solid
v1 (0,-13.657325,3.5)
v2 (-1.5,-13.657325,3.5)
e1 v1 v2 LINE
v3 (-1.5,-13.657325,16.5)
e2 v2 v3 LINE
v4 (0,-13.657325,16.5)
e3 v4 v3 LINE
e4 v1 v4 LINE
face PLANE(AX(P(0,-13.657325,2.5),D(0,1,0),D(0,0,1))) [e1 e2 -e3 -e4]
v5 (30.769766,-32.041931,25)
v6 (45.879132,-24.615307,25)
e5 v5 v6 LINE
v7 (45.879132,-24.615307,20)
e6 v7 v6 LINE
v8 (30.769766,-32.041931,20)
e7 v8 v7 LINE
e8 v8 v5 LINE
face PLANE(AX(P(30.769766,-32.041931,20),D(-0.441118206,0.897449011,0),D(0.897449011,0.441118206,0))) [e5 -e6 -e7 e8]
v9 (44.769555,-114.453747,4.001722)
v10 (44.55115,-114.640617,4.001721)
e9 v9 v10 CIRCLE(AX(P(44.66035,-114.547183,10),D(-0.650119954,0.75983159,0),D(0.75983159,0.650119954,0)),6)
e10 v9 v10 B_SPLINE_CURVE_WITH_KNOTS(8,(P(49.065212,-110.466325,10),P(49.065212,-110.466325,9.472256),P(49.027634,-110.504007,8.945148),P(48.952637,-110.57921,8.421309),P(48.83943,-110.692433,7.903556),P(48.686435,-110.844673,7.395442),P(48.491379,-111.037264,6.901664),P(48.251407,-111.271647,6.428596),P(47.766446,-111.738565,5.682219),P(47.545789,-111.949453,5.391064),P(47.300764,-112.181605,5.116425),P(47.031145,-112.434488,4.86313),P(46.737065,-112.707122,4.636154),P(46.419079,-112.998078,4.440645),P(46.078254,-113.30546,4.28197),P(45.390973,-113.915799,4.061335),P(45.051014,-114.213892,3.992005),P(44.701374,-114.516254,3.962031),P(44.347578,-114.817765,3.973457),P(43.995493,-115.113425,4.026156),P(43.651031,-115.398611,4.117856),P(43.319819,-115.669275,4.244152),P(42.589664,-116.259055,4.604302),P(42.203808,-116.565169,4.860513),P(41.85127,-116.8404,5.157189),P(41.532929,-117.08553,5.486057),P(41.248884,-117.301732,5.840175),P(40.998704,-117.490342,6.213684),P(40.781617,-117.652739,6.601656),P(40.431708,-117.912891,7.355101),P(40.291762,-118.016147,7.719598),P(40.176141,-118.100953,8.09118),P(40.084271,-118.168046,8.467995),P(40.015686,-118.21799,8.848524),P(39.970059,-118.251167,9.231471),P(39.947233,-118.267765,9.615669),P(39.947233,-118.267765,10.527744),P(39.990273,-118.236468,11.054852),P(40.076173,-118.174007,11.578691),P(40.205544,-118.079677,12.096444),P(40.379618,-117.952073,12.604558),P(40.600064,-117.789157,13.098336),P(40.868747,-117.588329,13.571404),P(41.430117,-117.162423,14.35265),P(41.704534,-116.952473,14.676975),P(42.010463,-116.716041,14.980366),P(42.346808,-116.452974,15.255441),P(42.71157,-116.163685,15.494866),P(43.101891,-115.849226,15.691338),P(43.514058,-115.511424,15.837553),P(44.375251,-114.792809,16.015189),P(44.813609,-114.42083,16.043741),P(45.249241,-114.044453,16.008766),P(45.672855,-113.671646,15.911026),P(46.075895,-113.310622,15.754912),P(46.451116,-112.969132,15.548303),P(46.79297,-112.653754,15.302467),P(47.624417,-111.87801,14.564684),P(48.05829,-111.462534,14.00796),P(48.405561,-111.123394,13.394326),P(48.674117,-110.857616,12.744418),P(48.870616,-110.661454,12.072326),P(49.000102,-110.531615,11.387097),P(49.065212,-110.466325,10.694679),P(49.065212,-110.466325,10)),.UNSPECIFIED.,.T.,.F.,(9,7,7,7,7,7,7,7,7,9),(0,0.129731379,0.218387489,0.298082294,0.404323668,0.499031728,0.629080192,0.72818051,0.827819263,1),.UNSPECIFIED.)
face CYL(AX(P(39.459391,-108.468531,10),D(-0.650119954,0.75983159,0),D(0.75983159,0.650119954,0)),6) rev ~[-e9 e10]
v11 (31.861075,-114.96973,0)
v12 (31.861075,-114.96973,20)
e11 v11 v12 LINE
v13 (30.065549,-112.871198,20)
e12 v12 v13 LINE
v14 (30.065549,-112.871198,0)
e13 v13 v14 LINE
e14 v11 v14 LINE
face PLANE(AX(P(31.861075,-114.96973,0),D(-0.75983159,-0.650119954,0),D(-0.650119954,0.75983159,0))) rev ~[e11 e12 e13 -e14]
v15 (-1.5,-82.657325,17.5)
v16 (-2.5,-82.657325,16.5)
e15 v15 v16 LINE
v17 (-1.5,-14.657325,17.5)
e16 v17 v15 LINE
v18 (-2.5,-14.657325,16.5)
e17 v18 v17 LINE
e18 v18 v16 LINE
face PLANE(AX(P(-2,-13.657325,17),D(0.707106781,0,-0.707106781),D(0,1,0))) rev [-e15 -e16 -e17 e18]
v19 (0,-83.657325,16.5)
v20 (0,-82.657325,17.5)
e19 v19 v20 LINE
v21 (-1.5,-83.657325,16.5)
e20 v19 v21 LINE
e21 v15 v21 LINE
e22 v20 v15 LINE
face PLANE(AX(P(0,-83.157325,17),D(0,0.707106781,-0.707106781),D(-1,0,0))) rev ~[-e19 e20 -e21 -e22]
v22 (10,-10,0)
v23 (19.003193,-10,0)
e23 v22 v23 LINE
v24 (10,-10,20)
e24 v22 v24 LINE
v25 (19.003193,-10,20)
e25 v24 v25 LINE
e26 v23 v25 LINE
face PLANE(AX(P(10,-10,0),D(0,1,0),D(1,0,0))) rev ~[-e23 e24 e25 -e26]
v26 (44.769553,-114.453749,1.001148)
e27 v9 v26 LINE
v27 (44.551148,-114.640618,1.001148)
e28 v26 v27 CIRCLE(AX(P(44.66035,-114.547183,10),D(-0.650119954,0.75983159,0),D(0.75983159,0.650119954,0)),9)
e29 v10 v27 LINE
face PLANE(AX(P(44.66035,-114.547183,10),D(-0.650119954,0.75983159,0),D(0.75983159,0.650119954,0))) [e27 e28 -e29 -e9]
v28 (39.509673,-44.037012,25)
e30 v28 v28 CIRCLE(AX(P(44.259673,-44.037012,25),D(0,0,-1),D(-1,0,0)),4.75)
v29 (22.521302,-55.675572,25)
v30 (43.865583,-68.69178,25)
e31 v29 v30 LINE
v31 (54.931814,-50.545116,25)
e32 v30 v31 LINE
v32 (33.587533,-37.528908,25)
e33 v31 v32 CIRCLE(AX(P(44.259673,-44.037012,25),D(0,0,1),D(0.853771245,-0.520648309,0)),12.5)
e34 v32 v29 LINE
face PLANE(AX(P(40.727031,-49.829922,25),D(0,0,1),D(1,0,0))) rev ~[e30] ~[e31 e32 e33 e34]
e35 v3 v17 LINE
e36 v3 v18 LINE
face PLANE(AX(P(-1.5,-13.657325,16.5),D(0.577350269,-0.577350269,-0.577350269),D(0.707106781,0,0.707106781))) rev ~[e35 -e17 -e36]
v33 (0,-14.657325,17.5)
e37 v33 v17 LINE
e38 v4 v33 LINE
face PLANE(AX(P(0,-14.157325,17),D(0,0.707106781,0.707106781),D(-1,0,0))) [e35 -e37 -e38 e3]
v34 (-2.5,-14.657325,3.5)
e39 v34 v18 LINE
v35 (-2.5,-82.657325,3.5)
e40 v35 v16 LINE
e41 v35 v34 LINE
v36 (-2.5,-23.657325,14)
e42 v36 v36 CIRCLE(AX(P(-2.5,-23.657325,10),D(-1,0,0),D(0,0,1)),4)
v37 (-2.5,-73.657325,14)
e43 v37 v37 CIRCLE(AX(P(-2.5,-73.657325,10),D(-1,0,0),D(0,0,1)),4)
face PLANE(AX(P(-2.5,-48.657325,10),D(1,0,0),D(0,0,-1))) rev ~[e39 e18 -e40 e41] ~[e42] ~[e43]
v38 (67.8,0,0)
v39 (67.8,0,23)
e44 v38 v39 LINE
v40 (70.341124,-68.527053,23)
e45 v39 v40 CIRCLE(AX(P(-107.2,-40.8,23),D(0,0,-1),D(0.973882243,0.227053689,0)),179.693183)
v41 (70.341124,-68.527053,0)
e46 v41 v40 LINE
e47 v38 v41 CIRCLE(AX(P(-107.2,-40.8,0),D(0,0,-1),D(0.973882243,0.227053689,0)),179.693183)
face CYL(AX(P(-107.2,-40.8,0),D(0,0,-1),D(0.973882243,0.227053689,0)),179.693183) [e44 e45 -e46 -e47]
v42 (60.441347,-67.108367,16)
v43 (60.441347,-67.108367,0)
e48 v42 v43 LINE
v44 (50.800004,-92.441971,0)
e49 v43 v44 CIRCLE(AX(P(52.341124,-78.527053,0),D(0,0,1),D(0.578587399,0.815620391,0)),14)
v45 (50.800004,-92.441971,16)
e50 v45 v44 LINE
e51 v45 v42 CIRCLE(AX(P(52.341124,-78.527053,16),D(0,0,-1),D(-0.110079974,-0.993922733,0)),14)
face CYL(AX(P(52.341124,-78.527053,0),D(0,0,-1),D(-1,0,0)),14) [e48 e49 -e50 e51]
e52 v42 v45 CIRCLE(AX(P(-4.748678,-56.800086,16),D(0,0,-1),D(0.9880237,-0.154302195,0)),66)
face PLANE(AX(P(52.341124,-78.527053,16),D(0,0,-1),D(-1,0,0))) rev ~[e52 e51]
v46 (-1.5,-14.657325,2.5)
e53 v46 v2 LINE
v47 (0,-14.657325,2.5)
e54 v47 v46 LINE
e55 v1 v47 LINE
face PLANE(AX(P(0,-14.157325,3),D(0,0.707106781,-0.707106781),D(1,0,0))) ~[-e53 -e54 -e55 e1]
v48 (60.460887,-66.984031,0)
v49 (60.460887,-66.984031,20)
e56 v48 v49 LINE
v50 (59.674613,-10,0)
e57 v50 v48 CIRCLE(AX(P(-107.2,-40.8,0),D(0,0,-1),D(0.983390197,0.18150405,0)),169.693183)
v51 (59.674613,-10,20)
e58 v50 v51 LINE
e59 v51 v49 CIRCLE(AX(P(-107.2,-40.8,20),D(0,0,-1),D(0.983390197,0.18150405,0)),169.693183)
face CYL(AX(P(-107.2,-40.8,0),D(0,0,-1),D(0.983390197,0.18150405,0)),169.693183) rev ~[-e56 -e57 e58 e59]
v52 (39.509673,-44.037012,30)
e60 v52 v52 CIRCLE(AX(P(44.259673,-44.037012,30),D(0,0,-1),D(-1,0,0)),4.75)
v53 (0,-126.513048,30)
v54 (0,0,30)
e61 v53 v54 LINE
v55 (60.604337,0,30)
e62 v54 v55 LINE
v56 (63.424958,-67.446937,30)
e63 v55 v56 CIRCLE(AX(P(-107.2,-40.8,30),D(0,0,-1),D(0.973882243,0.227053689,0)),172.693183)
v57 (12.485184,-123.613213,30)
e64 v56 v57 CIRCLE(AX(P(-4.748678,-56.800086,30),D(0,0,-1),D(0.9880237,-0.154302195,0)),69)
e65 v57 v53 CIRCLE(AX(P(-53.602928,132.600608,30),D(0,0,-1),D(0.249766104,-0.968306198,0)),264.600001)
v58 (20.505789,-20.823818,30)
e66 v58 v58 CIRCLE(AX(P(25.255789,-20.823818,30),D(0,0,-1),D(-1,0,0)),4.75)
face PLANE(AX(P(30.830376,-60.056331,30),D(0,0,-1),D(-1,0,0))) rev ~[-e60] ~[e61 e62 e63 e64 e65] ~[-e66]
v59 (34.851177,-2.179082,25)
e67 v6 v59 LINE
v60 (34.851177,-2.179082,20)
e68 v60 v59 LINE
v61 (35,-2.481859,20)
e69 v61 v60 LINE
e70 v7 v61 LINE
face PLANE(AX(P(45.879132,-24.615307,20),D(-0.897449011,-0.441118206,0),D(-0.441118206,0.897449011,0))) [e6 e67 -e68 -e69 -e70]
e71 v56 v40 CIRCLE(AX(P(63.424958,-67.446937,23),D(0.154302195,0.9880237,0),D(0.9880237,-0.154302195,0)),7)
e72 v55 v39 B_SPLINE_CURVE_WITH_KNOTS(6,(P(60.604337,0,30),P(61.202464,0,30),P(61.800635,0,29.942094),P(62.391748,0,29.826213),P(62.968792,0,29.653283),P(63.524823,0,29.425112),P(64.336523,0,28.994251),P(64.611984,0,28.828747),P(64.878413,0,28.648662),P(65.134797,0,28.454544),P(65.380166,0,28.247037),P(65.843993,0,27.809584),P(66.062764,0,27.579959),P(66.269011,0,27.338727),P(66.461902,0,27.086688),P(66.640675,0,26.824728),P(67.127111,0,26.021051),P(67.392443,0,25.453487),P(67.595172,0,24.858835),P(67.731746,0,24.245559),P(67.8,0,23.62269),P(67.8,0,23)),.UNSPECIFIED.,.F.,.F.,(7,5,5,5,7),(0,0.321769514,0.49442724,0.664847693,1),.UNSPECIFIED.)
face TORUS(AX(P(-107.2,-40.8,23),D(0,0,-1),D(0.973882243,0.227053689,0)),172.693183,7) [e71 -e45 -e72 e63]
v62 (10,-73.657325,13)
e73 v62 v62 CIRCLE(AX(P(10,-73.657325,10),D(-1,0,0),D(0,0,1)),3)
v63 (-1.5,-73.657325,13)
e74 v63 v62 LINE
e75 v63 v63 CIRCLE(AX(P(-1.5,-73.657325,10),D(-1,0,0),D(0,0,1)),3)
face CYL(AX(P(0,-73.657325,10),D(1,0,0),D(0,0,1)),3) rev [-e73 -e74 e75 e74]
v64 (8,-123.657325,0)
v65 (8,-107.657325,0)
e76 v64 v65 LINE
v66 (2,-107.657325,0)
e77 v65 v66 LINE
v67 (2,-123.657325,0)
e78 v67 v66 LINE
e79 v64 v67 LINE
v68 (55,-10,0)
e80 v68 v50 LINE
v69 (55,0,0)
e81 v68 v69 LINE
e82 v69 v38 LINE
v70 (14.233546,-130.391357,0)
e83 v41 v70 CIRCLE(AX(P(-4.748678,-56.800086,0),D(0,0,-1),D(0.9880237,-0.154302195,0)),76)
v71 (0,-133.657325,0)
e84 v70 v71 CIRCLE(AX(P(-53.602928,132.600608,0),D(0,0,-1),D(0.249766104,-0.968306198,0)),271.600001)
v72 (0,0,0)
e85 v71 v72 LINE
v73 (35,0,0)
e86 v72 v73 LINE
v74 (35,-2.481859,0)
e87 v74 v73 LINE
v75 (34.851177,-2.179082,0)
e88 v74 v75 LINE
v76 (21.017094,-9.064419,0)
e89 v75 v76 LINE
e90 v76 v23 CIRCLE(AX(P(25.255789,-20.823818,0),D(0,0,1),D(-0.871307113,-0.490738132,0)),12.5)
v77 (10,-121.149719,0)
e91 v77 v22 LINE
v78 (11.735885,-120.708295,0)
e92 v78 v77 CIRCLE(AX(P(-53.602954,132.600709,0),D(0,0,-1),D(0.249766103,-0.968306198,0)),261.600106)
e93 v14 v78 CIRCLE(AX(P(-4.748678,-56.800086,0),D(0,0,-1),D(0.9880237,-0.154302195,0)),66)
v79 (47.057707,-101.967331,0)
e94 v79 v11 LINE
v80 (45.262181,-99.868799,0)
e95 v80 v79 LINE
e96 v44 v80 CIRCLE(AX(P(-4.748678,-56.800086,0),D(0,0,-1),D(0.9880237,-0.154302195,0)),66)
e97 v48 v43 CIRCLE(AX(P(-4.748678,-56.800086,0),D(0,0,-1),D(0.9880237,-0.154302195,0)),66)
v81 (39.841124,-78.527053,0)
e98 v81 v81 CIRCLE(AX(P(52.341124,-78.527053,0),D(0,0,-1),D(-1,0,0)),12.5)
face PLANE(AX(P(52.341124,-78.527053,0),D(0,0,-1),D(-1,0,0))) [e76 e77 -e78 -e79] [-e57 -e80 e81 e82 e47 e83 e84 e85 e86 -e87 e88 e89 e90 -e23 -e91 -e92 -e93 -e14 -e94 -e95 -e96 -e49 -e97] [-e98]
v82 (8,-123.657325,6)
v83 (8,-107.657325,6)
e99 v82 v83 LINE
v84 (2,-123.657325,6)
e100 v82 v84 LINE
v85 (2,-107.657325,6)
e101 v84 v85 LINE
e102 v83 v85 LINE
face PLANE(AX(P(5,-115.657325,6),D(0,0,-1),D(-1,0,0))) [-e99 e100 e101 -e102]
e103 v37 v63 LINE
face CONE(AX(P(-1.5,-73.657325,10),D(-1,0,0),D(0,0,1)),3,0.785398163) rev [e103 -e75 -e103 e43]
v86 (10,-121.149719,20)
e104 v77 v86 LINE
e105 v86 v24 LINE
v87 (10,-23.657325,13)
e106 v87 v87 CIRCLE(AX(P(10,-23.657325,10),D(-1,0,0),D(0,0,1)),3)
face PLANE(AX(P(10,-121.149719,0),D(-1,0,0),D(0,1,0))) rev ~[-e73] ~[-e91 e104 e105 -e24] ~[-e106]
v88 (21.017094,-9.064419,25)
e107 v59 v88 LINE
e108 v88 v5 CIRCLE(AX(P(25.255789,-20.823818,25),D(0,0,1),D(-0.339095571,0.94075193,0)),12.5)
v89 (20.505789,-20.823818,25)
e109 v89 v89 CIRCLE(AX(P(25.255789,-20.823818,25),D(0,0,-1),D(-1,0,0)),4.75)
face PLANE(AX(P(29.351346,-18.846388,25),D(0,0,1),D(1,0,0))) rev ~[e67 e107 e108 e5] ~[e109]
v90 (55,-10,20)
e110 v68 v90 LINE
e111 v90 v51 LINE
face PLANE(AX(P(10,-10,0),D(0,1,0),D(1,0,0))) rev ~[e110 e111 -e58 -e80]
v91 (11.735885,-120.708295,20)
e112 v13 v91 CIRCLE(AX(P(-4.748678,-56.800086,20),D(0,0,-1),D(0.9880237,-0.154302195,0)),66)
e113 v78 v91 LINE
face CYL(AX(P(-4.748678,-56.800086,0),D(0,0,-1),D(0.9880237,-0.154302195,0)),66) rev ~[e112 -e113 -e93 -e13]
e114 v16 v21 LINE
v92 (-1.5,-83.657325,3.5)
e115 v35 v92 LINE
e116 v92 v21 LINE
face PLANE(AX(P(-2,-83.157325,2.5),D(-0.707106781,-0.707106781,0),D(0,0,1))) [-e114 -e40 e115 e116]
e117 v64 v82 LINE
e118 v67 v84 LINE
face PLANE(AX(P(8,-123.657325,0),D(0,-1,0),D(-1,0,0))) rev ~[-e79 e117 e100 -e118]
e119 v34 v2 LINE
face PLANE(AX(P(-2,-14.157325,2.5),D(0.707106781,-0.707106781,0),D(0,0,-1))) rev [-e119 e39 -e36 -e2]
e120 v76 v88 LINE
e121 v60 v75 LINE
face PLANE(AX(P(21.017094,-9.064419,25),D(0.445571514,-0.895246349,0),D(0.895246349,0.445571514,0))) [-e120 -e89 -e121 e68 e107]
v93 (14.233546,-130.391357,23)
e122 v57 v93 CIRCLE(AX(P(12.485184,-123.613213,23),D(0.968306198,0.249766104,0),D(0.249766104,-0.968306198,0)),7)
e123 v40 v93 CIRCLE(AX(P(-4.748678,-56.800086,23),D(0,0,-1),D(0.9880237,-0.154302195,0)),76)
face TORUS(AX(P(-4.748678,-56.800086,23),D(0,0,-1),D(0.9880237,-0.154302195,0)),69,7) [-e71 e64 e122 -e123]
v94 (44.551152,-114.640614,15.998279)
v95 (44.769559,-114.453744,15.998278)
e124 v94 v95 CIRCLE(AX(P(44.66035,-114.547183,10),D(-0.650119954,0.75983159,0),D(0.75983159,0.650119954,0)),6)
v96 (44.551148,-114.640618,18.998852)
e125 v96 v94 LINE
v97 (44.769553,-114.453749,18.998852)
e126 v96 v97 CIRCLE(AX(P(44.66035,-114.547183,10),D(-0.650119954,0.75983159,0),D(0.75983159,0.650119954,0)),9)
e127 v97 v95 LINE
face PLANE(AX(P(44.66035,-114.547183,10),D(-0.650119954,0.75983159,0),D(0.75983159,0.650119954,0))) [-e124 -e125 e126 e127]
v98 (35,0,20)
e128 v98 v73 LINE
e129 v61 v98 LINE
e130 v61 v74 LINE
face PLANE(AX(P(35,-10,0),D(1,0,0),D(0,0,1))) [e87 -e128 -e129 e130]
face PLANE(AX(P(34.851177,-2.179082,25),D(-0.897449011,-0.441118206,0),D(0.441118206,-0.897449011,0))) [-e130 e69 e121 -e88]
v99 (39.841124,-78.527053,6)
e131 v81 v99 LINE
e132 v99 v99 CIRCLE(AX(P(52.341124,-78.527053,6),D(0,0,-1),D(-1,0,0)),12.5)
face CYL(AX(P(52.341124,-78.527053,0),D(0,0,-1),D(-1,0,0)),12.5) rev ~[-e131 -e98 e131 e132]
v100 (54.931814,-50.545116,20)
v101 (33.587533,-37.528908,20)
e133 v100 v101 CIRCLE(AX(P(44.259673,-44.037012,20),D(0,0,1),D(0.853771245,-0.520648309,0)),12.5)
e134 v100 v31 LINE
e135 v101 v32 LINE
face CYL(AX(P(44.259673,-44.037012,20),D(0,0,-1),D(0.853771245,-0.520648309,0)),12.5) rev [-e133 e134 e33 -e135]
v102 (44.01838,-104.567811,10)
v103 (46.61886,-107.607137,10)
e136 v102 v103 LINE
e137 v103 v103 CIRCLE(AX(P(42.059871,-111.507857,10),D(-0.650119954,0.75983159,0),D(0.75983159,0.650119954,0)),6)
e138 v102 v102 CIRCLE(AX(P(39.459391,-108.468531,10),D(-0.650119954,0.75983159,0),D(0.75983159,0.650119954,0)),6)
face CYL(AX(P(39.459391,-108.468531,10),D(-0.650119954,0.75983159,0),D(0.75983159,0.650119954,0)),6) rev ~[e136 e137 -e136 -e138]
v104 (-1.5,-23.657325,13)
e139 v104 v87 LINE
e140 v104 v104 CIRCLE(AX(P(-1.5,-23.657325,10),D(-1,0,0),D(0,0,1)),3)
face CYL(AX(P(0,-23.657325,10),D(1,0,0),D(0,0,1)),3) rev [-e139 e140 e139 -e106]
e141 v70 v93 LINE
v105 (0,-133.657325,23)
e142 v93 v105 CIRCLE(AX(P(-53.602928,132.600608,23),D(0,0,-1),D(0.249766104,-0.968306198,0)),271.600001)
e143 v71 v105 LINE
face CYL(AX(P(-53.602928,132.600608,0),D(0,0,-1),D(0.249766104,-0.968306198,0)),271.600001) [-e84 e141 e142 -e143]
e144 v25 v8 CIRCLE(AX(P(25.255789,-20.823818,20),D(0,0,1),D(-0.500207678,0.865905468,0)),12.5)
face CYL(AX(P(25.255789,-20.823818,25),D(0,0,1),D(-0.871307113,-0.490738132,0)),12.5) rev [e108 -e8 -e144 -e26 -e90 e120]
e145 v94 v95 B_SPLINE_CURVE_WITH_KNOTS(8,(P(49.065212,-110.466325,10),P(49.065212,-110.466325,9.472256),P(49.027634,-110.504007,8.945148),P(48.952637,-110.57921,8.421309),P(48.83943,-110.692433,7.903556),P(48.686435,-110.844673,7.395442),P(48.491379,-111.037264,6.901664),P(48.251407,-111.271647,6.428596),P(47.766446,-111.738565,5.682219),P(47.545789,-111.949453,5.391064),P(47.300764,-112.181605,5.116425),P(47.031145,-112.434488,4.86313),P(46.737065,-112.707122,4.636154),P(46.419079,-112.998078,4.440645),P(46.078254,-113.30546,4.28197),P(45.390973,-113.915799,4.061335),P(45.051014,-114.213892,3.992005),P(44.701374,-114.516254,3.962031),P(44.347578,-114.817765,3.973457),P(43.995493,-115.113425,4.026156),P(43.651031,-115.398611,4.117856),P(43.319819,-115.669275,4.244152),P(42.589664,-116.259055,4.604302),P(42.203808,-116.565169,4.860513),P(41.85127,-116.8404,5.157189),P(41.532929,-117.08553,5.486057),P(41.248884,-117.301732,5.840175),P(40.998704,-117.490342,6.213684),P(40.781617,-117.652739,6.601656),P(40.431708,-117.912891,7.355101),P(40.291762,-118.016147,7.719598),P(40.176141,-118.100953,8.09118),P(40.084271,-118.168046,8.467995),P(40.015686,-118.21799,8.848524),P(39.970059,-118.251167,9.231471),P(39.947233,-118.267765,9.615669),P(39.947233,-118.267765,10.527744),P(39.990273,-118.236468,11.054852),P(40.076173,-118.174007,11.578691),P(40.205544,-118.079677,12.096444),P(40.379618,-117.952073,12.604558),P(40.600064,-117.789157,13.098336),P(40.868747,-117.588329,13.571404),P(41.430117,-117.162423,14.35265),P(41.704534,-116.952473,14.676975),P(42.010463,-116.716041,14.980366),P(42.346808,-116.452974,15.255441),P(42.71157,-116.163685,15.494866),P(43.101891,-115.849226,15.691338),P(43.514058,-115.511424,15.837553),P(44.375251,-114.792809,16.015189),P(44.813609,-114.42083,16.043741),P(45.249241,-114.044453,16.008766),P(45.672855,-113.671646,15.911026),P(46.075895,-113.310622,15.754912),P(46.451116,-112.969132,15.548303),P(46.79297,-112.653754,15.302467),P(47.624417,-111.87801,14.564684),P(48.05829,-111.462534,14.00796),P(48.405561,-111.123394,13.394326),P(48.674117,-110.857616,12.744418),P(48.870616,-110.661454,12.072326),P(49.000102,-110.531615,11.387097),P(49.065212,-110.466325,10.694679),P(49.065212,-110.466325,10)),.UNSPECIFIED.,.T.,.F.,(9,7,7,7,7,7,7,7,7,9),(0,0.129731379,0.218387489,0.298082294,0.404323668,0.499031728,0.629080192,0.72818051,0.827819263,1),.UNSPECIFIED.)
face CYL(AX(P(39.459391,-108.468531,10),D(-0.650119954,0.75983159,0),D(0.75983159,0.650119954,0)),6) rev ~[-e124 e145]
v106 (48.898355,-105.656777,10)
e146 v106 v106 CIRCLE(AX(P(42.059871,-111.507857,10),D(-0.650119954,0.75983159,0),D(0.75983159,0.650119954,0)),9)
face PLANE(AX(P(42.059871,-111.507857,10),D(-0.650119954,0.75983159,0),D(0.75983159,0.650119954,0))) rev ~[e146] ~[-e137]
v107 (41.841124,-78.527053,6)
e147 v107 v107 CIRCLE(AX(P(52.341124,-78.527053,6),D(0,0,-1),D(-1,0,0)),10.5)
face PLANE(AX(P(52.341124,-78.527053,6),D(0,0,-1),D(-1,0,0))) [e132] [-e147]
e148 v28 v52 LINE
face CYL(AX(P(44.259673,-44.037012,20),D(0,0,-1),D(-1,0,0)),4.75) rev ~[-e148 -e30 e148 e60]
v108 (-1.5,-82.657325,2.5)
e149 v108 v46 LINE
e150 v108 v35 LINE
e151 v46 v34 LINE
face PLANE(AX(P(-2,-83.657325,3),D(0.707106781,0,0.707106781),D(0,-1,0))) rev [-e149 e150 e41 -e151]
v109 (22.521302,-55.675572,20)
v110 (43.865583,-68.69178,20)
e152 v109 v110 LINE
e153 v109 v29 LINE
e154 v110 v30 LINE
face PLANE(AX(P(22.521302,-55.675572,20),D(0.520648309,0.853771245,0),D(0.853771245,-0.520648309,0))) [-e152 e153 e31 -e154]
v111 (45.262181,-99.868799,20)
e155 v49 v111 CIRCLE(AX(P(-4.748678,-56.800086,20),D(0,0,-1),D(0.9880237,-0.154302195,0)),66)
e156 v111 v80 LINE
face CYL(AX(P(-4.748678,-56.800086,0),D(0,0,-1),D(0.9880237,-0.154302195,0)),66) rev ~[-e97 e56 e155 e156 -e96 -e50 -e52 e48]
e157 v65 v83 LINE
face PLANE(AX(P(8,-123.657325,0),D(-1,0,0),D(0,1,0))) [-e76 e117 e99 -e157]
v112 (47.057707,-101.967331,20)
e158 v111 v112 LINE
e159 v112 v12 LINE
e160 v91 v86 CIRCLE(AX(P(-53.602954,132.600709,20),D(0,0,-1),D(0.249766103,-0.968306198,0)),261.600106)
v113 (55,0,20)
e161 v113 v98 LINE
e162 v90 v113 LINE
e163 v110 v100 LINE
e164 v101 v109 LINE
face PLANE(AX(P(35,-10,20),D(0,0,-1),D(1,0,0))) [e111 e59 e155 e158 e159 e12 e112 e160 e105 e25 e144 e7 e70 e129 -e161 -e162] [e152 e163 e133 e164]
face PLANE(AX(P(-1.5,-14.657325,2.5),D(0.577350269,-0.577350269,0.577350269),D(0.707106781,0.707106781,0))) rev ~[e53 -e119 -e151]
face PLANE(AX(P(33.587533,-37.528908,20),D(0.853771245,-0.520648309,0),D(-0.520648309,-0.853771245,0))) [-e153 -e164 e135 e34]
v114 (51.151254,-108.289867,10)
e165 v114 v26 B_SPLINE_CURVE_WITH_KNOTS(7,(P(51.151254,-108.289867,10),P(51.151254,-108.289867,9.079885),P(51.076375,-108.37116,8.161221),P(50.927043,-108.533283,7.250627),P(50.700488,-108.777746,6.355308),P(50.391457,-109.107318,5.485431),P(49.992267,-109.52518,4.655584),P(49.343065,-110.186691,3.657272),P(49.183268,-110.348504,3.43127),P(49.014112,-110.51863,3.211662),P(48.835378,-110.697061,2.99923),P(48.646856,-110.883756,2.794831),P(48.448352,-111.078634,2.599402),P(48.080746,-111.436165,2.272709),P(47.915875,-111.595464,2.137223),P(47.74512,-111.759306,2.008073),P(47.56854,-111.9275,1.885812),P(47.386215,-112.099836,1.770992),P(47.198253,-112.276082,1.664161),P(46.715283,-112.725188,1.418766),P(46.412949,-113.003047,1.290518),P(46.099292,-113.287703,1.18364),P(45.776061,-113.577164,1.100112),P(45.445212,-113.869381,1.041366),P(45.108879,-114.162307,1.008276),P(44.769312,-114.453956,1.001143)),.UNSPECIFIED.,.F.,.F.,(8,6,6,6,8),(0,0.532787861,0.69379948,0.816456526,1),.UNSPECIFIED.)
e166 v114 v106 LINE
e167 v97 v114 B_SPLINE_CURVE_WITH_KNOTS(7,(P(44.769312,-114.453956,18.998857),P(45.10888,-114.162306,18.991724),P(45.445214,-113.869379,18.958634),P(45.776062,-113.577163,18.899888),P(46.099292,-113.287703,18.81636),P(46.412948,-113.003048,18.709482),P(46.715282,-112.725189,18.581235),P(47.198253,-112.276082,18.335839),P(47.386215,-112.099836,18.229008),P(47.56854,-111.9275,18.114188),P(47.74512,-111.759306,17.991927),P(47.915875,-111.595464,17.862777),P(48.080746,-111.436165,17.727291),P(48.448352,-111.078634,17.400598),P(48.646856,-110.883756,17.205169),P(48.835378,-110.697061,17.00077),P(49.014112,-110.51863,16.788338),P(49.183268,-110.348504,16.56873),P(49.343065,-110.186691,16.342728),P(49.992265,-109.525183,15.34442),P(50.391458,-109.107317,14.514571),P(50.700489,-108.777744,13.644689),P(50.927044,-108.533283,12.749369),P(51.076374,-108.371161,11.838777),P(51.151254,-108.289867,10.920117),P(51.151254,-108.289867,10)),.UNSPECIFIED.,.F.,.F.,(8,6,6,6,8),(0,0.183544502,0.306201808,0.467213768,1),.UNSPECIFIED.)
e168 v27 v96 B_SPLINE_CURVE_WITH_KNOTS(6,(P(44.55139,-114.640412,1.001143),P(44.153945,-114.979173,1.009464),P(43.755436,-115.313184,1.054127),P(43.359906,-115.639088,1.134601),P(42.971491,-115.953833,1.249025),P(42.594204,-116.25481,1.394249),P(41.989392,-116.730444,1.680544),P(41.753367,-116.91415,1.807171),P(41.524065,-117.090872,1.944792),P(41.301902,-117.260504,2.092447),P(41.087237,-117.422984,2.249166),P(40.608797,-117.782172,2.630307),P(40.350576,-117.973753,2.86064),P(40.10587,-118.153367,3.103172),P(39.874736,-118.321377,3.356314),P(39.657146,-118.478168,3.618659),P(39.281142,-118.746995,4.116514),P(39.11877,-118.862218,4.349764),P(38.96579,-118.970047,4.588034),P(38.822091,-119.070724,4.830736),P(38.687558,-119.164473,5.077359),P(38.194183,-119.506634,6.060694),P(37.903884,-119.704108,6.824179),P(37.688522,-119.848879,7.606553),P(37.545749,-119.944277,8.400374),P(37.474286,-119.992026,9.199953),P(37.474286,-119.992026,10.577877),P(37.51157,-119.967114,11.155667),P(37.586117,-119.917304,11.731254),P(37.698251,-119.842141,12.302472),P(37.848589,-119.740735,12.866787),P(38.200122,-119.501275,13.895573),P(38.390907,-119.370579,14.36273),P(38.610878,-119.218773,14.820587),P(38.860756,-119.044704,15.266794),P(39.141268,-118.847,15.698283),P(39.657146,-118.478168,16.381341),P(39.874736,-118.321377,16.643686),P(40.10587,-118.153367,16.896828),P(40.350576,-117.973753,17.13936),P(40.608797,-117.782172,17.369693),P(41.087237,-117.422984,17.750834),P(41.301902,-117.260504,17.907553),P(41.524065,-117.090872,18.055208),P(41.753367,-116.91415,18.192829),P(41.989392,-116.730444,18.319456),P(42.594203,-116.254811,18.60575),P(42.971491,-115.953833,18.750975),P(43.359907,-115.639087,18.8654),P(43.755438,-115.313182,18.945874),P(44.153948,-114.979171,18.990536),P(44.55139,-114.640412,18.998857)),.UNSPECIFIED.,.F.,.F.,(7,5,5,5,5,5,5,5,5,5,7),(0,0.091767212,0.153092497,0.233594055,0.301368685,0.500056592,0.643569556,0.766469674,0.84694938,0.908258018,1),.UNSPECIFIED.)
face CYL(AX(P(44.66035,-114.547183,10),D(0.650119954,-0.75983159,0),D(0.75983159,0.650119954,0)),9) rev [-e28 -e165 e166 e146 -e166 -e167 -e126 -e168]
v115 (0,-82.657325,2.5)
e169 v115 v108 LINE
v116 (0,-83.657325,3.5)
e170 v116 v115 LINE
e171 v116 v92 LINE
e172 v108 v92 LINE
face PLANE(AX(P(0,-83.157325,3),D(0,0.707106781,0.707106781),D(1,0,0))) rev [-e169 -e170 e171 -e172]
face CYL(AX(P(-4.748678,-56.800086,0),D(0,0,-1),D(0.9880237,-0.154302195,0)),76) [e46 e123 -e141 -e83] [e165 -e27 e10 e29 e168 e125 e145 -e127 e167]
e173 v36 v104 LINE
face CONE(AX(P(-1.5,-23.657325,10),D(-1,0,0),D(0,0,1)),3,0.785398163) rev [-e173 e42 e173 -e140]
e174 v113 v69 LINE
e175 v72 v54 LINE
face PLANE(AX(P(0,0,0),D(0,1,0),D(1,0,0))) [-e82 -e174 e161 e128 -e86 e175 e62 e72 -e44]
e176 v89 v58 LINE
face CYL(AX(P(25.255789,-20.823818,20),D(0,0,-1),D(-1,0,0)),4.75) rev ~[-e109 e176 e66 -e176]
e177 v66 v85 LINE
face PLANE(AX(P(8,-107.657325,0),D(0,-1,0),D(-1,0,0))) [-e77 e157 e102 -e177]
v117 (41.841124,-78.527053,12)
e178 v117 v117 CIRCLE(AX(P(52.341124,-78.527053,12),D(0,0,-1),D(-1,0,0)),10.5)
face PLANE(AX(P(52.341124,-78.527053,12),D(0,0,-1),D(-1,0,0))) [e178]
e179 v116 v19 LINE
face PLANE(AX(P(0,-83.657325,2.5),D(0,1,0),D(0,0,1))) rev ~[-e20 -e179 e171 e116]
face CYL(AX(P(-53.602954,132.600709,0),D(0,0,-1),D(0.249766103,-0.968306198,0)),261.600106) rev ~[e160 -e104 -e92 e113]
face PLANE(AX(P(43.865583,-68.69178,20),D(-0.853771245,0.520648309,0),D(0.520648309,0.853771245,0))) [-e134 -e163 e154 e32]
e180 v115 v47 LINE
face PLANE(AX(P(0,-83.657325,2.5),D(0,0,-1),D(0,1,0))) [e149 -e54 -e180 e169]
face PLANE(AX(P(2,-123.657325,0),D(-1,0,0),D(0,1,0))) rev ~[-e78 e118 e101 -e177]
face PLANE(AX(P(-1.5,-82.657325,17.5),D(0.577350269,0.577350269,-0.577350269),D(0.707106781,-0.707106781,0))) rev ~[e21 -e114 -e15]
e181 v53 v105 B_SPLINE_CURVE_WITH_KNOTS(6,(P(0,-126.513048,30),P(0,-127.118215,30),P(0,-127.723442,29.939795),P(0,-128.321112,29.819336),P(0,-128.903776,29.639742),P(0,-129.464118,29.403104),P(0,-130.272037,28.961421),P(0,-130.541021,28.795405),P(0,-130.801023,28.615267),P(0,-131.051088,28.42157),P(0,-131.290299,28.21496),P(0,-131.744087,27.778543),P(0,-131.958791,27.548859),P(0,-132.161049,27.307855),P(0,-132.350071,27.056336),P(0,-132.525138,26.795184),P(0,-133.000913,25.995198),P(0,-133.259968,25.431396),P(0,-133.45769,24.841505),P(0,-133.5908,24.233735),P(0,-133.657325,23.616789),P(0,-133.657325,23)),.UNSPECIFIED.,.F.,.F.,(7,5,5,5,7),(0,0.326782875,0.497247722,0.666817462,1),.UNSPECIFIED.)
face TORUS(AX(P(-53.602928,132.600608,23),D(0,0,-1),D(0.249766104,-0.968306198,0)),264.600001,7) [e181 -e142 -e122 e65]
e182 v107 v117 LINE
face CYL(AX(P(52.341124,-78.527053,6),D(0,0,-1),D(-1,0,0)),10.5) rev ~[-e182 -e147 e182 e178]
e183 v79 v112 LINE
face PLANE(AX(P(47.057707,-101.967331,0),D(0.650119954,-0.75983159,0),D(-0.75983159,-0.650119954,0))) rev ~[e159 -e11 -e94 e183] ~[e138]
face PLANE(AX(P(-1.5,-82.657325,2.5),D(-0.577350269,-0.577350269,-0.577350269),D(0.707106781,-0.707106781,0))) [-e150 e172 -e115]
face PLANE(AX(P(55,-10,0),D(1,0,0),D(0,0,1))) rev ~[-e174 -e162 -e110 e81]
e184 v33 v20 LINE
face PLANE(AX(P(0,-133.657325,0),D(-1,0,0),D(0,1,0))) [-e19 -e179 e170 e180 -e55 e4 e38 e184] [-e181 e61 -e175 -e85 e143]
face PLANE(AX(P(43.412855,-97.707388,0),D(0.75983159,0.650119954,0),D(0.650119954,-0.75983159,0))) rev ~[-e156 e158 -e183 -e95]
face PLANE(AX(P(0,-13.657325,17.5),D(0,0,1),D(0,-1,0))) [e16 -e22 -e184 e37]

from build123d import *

# Parameters (mm, degrees)
BOSS_EXTRUDE1_DEPTH = 30
CUT_EXTRUDE2_DEPTH  = 20
FILLET1_R           = 7
SKETCH9_W           = 20
SKETCH9_H           = 20
CUT_EXTRUDE7_DEPTH  = 11.0000001
SKETCH10_R          = 4.75
CUT_EXTRUDE8_DEPTH  = 10
CUT_EXTRUDE9_DEPTH  = 20
SKETCH13_R          = 6
CUT_EXTRUDE10_DEPTH = 20
SKETCH14_R          = 9
CUT_EXTRUDE11_DEPTH = 4
CUT_EXTRUDE12_DEPTH = 5
CUT_EXTRUDE13_DEPTH = 30
SKETCH17_R          = 3
CUT_EXTRUDE14_DEPTH = 10
SKETCH18_R          = 3
BOSS_EXTRUDE2_DEPTH = 2.5
CHAMFER1_SIZE       = 1
SKETCH19_W          = 6
SKETCH19_H          = 16
CUT_EXTRUDE15_DEPTH = 6
SKETCH20_R          = 14
BOSS_EXTRUDE3_DEPTH = 16
SKETCH21_R          = 12.5
CUT_EXTRUDE16_DEPTH = 6
SKETCH22_R          = 10.5
CUT_EXTRUDE17_DEPTH = 6


with BuildPart() as part:
    # Sketch1 → Boss-Extrude1 (new body)
    with BuildSketch(Plane.XY):
        with BuildLine():
            Line((0, 0), (67.8, 0))
            ThreePointArc((67.8, 0), (72.369764115, -34.141185106), (70.341123561, -68.527052581))
            ThreePointArc((70.341123561, -68.527052581), (51.546832931, -107.857068487), (14.233546266, -130.391356799))
            ThreePointArc((14.233546266, -130.391356799), (7.138727746, -132.120022188), (0, -133.657325027))
            Line((0, -133.657325027), (0, 0))
        make_face()
    extrude(amount=BOSS_EXTRUDE1_DEPTH)

    # Sketch4 → Cut-Extrude2 (cut)
    with BuildSketch(Plane(origin=(0, 0, 0), x_dir=(-1, 0, 0), z_dir=(0, 0, -1))):
        with BuildLine():
            Line((-10, -121.14971872), (-10, -10))
            Line((-10, -10), (-59.674612632, -10))
            ThreePointArc((-59.674612632, -10), (-62.477031418, -38.458771695), (-60.460886556, -66.98403063))
            ThreePointArc((-60.460886556, -66.98403063), (-44.139528904, -101.139044443), (-11.735885222, -120.708294819))
            ThreePointArc((-11.735885222, -120.708294819), (-10.868320406, -120.930492438), (-10, -121.14971872))
        make_face()
    extrude(amount=-CUT_EXTRUDE2_DEPTH, mode=Mode.SUBTRACT)

    # Fillet1
    fillet1_edges = [part.edges().sort_by_distance(p)[0] for p in [
        (51.546832931, -107.857068487, 30),
        (72.369764115, -34.141185106, 30),
        (7.138727746, -132.120022188, 30),
    ]]
    fillet(fillet1_edges, radius=FILLET1_R)

    # Sketch9 → Cut-Extrude7 (cut, through all)
    with BuildSketch(Plane.XZ.offset(10)):
        with Locations((45, 10)):
            Rectangle(SKETCH9_W, SKETCH9_H)
    extrude(amount=-CUT_EXTRUDE7_DEPTH, mode=Mode.SUBTRACT)

    # Sketch10 → Cut-Extrude8 (cut)
    with BuildSketch(Plane(origin=(0, 0, 20), x_dir=(-1, 0, 0), z_dir=(0, 0, -1))):
        with Locations((-44.259673453, -44.037012246)):
            Circle(SKETCH10_R)
        with Locations((-25.255788876, -20.823818347)):
            Circle(SKETCH10_R)
    extrude(amount=-CUT_EXTRUDE8_DEPTH, mode=Mode.SUBTRACT)

    # Sketch12 → Cut-Extrude9 (cut)
    with BuildSketch(Plane(origin=(0, 0, 0), x_dir=(-1, 0, 0), z_dir=(0, 0, -1))):
        Polygon((-47.057706749, -101.967331088), (-31.861074944, -114.969730167), (-28.21622296, -110.709787578), (-43.412854765, -97.7073885), align=None)
    extrude(amount=-CUT_EXTRUDE9_DEPTH, mode=Mode.SUBTRACT)

    # Sketch13 → Cut-Extrude10 (cut)
    with BuildSketch(Plane(origin=(70.259213318, -82.115876403, 0), x_dir=(0.75983159, 0.650119954, 0), z_dir=(-0.650119954, 0.75983159, 0))):
        with Locations((-40.535064437, -10)):
            Circle(SKETCH13_R)
    extrude(amount=-CUT_EXTRUDE10_DEPTH, mode=Mode.SUBTRACT)

    # Sketch14 → Cut-Extrude11 (cut)
    with BuildSketch(Plane(origin=(75.460172949, -88.194529125, 0), x_dir=(0.75983159, 0.650119954, 0), z_dir=(-0.650119954, 0.75983159, 0))):
        with Locations((-40.535064437, -10)):
            Circle(SKETCH14_R)
    extrude(amount=CUT_EXTRUDE11_DEPTH, mode=Mode.SUBTRACT)

    # Sketch15 → Cut-Extrude12 (cut)
    with BuildSketch(Plane(origin=(0, 0, 20), x_dir=(-1, 0, 0), z_dir=(0, 0, -1))):
        with BuildLine():
            Line((-33.587532893, -37.528908384), (-22.521301807, -55.675572317))
            Line((-22.521301807, -55.675572317), (-43.865582926, -68.691780041))
            Line((-43.865582926, -68.691780041), (-54.931814012, -50.545116108))
            ThreePointArc((-54.931814012, -50.545116108), (-50.767777314, -33.364871686), (-33.587532893, -37.528908384))
        make_face()
        with BuildLine():
            Line((-30.769766454, -32.04193099), (-45.879132419, -24.61530694))
            Line((-45.879132419, -24.61530694), (-34.851177263, -2.179081654))
            Line((-34.851177263, -2.179081654), (-21.017094236, -9.064419223))
            ThreePointArc((-21.017094236, -9.064419223), (-13.749351617, -25.707659213), (-30.769766454, -32.04193099))
        make_face()
    extrude(amount=-CUT_EXTRUDE12_DEPTH, mode=Mode.SUBTRACT)

    # Sketch16 → Cut-Extrude13 (cut)
    with BuildSketch(Plane(origin=(0, 0, 25), x_dir=(-1, 0, 0), z_dir=(0, 0, -1))):
        with BuildLine():
            Line((-21.017094236, -9.064419223), (-34.851177263, -2.179081654))
            Line((-34.851177263, -2.179081654), (-38.235489597, -9.064419223))
            Line((-38.235489597, -9.064419223), (-15.338867846, -20.318670536))
            Line((-15.338867846, -20.318670536), (-14.364449962, -26.958045002))
            ThreePointArc((-14.364449962, -26.958045002), (-13.539350009, -16.467781124), (-21.017094236, -9.064419223))
        make_face()
    extrude(amount=CUT_EXTRUDE13_DEPTH, mode=Mode.SUBTRACT)

    # Sketch17 → Cut-Extrude14 (cut)
    with BuildSketch(Plane.ZY):
        with Locations((10, -73.657325027)):
            Circle(SKETCH17_R)
        with Locations((10, -23.657325027)):
            Circle(SKETCH17_R)
    extrude(amount=-CUT_EXTRUDE14_DEPTH, mode=Mode.SUBTRACT)

    # Sketch18 → Boss-Extrude2 (add)
    with BuildSketch(Plane.ZY):
        Polygon((10, -83.657325027), (2.5, -83.657325027), (2.5, -13.657325027), (17.5, -13.657325027), (17.5, -83.657325027), align=None)
        with Locations((10, -73.657325027)):
            Circle(SKETCH18_R, mode=Mode.SUBTRACT)
        with Locations((10, -23.657325027)):
            Circle(SKETCH18_R, mode=Mode.SUBTRACT)
    extrude(amount=BOSS_EXTRUDE2_DEPTH)

    # Chamfer1
    chamfer1_edges = [part.edges().sort_by_distance(p)[0] for p in [
        (-2.5, -83.657325027, 10),
        (-2.5, -48.657325027, 17.5),
        (-2.5, -13.657325027, 10),
        (-2.5, -48.657325027, 2.5),
        (-1.25, -83.657325027, 17.5),
        (-1.25, -13.657325027, 17.5),
        (-1.25, -13.657325027, 2.5),
        (-1.25, -83.657325027, 2.5),
        (-2.5, -73.657325027, 7),
        (-2.5, -23.657325027, 7),
    ]]
    chamfer(chamfer1_edges, length=CHAMFER1_SIZE)

    # Sketch19 → Cut-Extrude15 (cut)
    with BuildSketch(Plane(origin=(0, 0, 0), x_dir=(-1, 0, 0), z_dir=(0, 0, -1))):
        with Locations((-5, -115.657325027)):
            Rectangle(SKETCH19_W, SKETCH19_H)
    extrude(amount=-CUT_EXTRUDE15_DEPTH, mode=Mode.SUBTRACT)

    # Sketch20 → Boss-Extrude3 (add)
    with BuildSketch(Plane(origin=(0, 0, 0), x_dir=(-1, 0, 0), z_dir=(0, 0, -1))):
        with Locations((-52.341123561, -78.527052581)):
            Circle(SKETCH20_R)
    extrude(amount=-BOSS_EXTRUDE3_DEPTH)

    # Sketch21 → Cut-Extrude16 (cut)
    with BuildSketch(Plane(origin=(0, 0, 0), x_dir=(-1, 0, 0), z_dir=(0, 0, -1))):
        with Locations((-52.341123561, -78.527052581)):
            Circle(SKETCH21_R)
    extrude(amount=-CUT_EXTRUDE16_DEPTH, mode=Mode.SUBTRACT)

    # Sketch22 → Cut-Extrude17 (cut)
    with BuildSketch(Plane(origin=(0, 0, 6), x_dir=(-1, 0, 0), z_dir=(0, 0, -1))):
        with Locations((-52.341123561, -78.527052581)):
            Circle(SKETCH22_R)
    extrude(amount=-CUT_EXTRUDE17_DEPTH, mode=Mode.SUBTRACT)


solid = part.part
